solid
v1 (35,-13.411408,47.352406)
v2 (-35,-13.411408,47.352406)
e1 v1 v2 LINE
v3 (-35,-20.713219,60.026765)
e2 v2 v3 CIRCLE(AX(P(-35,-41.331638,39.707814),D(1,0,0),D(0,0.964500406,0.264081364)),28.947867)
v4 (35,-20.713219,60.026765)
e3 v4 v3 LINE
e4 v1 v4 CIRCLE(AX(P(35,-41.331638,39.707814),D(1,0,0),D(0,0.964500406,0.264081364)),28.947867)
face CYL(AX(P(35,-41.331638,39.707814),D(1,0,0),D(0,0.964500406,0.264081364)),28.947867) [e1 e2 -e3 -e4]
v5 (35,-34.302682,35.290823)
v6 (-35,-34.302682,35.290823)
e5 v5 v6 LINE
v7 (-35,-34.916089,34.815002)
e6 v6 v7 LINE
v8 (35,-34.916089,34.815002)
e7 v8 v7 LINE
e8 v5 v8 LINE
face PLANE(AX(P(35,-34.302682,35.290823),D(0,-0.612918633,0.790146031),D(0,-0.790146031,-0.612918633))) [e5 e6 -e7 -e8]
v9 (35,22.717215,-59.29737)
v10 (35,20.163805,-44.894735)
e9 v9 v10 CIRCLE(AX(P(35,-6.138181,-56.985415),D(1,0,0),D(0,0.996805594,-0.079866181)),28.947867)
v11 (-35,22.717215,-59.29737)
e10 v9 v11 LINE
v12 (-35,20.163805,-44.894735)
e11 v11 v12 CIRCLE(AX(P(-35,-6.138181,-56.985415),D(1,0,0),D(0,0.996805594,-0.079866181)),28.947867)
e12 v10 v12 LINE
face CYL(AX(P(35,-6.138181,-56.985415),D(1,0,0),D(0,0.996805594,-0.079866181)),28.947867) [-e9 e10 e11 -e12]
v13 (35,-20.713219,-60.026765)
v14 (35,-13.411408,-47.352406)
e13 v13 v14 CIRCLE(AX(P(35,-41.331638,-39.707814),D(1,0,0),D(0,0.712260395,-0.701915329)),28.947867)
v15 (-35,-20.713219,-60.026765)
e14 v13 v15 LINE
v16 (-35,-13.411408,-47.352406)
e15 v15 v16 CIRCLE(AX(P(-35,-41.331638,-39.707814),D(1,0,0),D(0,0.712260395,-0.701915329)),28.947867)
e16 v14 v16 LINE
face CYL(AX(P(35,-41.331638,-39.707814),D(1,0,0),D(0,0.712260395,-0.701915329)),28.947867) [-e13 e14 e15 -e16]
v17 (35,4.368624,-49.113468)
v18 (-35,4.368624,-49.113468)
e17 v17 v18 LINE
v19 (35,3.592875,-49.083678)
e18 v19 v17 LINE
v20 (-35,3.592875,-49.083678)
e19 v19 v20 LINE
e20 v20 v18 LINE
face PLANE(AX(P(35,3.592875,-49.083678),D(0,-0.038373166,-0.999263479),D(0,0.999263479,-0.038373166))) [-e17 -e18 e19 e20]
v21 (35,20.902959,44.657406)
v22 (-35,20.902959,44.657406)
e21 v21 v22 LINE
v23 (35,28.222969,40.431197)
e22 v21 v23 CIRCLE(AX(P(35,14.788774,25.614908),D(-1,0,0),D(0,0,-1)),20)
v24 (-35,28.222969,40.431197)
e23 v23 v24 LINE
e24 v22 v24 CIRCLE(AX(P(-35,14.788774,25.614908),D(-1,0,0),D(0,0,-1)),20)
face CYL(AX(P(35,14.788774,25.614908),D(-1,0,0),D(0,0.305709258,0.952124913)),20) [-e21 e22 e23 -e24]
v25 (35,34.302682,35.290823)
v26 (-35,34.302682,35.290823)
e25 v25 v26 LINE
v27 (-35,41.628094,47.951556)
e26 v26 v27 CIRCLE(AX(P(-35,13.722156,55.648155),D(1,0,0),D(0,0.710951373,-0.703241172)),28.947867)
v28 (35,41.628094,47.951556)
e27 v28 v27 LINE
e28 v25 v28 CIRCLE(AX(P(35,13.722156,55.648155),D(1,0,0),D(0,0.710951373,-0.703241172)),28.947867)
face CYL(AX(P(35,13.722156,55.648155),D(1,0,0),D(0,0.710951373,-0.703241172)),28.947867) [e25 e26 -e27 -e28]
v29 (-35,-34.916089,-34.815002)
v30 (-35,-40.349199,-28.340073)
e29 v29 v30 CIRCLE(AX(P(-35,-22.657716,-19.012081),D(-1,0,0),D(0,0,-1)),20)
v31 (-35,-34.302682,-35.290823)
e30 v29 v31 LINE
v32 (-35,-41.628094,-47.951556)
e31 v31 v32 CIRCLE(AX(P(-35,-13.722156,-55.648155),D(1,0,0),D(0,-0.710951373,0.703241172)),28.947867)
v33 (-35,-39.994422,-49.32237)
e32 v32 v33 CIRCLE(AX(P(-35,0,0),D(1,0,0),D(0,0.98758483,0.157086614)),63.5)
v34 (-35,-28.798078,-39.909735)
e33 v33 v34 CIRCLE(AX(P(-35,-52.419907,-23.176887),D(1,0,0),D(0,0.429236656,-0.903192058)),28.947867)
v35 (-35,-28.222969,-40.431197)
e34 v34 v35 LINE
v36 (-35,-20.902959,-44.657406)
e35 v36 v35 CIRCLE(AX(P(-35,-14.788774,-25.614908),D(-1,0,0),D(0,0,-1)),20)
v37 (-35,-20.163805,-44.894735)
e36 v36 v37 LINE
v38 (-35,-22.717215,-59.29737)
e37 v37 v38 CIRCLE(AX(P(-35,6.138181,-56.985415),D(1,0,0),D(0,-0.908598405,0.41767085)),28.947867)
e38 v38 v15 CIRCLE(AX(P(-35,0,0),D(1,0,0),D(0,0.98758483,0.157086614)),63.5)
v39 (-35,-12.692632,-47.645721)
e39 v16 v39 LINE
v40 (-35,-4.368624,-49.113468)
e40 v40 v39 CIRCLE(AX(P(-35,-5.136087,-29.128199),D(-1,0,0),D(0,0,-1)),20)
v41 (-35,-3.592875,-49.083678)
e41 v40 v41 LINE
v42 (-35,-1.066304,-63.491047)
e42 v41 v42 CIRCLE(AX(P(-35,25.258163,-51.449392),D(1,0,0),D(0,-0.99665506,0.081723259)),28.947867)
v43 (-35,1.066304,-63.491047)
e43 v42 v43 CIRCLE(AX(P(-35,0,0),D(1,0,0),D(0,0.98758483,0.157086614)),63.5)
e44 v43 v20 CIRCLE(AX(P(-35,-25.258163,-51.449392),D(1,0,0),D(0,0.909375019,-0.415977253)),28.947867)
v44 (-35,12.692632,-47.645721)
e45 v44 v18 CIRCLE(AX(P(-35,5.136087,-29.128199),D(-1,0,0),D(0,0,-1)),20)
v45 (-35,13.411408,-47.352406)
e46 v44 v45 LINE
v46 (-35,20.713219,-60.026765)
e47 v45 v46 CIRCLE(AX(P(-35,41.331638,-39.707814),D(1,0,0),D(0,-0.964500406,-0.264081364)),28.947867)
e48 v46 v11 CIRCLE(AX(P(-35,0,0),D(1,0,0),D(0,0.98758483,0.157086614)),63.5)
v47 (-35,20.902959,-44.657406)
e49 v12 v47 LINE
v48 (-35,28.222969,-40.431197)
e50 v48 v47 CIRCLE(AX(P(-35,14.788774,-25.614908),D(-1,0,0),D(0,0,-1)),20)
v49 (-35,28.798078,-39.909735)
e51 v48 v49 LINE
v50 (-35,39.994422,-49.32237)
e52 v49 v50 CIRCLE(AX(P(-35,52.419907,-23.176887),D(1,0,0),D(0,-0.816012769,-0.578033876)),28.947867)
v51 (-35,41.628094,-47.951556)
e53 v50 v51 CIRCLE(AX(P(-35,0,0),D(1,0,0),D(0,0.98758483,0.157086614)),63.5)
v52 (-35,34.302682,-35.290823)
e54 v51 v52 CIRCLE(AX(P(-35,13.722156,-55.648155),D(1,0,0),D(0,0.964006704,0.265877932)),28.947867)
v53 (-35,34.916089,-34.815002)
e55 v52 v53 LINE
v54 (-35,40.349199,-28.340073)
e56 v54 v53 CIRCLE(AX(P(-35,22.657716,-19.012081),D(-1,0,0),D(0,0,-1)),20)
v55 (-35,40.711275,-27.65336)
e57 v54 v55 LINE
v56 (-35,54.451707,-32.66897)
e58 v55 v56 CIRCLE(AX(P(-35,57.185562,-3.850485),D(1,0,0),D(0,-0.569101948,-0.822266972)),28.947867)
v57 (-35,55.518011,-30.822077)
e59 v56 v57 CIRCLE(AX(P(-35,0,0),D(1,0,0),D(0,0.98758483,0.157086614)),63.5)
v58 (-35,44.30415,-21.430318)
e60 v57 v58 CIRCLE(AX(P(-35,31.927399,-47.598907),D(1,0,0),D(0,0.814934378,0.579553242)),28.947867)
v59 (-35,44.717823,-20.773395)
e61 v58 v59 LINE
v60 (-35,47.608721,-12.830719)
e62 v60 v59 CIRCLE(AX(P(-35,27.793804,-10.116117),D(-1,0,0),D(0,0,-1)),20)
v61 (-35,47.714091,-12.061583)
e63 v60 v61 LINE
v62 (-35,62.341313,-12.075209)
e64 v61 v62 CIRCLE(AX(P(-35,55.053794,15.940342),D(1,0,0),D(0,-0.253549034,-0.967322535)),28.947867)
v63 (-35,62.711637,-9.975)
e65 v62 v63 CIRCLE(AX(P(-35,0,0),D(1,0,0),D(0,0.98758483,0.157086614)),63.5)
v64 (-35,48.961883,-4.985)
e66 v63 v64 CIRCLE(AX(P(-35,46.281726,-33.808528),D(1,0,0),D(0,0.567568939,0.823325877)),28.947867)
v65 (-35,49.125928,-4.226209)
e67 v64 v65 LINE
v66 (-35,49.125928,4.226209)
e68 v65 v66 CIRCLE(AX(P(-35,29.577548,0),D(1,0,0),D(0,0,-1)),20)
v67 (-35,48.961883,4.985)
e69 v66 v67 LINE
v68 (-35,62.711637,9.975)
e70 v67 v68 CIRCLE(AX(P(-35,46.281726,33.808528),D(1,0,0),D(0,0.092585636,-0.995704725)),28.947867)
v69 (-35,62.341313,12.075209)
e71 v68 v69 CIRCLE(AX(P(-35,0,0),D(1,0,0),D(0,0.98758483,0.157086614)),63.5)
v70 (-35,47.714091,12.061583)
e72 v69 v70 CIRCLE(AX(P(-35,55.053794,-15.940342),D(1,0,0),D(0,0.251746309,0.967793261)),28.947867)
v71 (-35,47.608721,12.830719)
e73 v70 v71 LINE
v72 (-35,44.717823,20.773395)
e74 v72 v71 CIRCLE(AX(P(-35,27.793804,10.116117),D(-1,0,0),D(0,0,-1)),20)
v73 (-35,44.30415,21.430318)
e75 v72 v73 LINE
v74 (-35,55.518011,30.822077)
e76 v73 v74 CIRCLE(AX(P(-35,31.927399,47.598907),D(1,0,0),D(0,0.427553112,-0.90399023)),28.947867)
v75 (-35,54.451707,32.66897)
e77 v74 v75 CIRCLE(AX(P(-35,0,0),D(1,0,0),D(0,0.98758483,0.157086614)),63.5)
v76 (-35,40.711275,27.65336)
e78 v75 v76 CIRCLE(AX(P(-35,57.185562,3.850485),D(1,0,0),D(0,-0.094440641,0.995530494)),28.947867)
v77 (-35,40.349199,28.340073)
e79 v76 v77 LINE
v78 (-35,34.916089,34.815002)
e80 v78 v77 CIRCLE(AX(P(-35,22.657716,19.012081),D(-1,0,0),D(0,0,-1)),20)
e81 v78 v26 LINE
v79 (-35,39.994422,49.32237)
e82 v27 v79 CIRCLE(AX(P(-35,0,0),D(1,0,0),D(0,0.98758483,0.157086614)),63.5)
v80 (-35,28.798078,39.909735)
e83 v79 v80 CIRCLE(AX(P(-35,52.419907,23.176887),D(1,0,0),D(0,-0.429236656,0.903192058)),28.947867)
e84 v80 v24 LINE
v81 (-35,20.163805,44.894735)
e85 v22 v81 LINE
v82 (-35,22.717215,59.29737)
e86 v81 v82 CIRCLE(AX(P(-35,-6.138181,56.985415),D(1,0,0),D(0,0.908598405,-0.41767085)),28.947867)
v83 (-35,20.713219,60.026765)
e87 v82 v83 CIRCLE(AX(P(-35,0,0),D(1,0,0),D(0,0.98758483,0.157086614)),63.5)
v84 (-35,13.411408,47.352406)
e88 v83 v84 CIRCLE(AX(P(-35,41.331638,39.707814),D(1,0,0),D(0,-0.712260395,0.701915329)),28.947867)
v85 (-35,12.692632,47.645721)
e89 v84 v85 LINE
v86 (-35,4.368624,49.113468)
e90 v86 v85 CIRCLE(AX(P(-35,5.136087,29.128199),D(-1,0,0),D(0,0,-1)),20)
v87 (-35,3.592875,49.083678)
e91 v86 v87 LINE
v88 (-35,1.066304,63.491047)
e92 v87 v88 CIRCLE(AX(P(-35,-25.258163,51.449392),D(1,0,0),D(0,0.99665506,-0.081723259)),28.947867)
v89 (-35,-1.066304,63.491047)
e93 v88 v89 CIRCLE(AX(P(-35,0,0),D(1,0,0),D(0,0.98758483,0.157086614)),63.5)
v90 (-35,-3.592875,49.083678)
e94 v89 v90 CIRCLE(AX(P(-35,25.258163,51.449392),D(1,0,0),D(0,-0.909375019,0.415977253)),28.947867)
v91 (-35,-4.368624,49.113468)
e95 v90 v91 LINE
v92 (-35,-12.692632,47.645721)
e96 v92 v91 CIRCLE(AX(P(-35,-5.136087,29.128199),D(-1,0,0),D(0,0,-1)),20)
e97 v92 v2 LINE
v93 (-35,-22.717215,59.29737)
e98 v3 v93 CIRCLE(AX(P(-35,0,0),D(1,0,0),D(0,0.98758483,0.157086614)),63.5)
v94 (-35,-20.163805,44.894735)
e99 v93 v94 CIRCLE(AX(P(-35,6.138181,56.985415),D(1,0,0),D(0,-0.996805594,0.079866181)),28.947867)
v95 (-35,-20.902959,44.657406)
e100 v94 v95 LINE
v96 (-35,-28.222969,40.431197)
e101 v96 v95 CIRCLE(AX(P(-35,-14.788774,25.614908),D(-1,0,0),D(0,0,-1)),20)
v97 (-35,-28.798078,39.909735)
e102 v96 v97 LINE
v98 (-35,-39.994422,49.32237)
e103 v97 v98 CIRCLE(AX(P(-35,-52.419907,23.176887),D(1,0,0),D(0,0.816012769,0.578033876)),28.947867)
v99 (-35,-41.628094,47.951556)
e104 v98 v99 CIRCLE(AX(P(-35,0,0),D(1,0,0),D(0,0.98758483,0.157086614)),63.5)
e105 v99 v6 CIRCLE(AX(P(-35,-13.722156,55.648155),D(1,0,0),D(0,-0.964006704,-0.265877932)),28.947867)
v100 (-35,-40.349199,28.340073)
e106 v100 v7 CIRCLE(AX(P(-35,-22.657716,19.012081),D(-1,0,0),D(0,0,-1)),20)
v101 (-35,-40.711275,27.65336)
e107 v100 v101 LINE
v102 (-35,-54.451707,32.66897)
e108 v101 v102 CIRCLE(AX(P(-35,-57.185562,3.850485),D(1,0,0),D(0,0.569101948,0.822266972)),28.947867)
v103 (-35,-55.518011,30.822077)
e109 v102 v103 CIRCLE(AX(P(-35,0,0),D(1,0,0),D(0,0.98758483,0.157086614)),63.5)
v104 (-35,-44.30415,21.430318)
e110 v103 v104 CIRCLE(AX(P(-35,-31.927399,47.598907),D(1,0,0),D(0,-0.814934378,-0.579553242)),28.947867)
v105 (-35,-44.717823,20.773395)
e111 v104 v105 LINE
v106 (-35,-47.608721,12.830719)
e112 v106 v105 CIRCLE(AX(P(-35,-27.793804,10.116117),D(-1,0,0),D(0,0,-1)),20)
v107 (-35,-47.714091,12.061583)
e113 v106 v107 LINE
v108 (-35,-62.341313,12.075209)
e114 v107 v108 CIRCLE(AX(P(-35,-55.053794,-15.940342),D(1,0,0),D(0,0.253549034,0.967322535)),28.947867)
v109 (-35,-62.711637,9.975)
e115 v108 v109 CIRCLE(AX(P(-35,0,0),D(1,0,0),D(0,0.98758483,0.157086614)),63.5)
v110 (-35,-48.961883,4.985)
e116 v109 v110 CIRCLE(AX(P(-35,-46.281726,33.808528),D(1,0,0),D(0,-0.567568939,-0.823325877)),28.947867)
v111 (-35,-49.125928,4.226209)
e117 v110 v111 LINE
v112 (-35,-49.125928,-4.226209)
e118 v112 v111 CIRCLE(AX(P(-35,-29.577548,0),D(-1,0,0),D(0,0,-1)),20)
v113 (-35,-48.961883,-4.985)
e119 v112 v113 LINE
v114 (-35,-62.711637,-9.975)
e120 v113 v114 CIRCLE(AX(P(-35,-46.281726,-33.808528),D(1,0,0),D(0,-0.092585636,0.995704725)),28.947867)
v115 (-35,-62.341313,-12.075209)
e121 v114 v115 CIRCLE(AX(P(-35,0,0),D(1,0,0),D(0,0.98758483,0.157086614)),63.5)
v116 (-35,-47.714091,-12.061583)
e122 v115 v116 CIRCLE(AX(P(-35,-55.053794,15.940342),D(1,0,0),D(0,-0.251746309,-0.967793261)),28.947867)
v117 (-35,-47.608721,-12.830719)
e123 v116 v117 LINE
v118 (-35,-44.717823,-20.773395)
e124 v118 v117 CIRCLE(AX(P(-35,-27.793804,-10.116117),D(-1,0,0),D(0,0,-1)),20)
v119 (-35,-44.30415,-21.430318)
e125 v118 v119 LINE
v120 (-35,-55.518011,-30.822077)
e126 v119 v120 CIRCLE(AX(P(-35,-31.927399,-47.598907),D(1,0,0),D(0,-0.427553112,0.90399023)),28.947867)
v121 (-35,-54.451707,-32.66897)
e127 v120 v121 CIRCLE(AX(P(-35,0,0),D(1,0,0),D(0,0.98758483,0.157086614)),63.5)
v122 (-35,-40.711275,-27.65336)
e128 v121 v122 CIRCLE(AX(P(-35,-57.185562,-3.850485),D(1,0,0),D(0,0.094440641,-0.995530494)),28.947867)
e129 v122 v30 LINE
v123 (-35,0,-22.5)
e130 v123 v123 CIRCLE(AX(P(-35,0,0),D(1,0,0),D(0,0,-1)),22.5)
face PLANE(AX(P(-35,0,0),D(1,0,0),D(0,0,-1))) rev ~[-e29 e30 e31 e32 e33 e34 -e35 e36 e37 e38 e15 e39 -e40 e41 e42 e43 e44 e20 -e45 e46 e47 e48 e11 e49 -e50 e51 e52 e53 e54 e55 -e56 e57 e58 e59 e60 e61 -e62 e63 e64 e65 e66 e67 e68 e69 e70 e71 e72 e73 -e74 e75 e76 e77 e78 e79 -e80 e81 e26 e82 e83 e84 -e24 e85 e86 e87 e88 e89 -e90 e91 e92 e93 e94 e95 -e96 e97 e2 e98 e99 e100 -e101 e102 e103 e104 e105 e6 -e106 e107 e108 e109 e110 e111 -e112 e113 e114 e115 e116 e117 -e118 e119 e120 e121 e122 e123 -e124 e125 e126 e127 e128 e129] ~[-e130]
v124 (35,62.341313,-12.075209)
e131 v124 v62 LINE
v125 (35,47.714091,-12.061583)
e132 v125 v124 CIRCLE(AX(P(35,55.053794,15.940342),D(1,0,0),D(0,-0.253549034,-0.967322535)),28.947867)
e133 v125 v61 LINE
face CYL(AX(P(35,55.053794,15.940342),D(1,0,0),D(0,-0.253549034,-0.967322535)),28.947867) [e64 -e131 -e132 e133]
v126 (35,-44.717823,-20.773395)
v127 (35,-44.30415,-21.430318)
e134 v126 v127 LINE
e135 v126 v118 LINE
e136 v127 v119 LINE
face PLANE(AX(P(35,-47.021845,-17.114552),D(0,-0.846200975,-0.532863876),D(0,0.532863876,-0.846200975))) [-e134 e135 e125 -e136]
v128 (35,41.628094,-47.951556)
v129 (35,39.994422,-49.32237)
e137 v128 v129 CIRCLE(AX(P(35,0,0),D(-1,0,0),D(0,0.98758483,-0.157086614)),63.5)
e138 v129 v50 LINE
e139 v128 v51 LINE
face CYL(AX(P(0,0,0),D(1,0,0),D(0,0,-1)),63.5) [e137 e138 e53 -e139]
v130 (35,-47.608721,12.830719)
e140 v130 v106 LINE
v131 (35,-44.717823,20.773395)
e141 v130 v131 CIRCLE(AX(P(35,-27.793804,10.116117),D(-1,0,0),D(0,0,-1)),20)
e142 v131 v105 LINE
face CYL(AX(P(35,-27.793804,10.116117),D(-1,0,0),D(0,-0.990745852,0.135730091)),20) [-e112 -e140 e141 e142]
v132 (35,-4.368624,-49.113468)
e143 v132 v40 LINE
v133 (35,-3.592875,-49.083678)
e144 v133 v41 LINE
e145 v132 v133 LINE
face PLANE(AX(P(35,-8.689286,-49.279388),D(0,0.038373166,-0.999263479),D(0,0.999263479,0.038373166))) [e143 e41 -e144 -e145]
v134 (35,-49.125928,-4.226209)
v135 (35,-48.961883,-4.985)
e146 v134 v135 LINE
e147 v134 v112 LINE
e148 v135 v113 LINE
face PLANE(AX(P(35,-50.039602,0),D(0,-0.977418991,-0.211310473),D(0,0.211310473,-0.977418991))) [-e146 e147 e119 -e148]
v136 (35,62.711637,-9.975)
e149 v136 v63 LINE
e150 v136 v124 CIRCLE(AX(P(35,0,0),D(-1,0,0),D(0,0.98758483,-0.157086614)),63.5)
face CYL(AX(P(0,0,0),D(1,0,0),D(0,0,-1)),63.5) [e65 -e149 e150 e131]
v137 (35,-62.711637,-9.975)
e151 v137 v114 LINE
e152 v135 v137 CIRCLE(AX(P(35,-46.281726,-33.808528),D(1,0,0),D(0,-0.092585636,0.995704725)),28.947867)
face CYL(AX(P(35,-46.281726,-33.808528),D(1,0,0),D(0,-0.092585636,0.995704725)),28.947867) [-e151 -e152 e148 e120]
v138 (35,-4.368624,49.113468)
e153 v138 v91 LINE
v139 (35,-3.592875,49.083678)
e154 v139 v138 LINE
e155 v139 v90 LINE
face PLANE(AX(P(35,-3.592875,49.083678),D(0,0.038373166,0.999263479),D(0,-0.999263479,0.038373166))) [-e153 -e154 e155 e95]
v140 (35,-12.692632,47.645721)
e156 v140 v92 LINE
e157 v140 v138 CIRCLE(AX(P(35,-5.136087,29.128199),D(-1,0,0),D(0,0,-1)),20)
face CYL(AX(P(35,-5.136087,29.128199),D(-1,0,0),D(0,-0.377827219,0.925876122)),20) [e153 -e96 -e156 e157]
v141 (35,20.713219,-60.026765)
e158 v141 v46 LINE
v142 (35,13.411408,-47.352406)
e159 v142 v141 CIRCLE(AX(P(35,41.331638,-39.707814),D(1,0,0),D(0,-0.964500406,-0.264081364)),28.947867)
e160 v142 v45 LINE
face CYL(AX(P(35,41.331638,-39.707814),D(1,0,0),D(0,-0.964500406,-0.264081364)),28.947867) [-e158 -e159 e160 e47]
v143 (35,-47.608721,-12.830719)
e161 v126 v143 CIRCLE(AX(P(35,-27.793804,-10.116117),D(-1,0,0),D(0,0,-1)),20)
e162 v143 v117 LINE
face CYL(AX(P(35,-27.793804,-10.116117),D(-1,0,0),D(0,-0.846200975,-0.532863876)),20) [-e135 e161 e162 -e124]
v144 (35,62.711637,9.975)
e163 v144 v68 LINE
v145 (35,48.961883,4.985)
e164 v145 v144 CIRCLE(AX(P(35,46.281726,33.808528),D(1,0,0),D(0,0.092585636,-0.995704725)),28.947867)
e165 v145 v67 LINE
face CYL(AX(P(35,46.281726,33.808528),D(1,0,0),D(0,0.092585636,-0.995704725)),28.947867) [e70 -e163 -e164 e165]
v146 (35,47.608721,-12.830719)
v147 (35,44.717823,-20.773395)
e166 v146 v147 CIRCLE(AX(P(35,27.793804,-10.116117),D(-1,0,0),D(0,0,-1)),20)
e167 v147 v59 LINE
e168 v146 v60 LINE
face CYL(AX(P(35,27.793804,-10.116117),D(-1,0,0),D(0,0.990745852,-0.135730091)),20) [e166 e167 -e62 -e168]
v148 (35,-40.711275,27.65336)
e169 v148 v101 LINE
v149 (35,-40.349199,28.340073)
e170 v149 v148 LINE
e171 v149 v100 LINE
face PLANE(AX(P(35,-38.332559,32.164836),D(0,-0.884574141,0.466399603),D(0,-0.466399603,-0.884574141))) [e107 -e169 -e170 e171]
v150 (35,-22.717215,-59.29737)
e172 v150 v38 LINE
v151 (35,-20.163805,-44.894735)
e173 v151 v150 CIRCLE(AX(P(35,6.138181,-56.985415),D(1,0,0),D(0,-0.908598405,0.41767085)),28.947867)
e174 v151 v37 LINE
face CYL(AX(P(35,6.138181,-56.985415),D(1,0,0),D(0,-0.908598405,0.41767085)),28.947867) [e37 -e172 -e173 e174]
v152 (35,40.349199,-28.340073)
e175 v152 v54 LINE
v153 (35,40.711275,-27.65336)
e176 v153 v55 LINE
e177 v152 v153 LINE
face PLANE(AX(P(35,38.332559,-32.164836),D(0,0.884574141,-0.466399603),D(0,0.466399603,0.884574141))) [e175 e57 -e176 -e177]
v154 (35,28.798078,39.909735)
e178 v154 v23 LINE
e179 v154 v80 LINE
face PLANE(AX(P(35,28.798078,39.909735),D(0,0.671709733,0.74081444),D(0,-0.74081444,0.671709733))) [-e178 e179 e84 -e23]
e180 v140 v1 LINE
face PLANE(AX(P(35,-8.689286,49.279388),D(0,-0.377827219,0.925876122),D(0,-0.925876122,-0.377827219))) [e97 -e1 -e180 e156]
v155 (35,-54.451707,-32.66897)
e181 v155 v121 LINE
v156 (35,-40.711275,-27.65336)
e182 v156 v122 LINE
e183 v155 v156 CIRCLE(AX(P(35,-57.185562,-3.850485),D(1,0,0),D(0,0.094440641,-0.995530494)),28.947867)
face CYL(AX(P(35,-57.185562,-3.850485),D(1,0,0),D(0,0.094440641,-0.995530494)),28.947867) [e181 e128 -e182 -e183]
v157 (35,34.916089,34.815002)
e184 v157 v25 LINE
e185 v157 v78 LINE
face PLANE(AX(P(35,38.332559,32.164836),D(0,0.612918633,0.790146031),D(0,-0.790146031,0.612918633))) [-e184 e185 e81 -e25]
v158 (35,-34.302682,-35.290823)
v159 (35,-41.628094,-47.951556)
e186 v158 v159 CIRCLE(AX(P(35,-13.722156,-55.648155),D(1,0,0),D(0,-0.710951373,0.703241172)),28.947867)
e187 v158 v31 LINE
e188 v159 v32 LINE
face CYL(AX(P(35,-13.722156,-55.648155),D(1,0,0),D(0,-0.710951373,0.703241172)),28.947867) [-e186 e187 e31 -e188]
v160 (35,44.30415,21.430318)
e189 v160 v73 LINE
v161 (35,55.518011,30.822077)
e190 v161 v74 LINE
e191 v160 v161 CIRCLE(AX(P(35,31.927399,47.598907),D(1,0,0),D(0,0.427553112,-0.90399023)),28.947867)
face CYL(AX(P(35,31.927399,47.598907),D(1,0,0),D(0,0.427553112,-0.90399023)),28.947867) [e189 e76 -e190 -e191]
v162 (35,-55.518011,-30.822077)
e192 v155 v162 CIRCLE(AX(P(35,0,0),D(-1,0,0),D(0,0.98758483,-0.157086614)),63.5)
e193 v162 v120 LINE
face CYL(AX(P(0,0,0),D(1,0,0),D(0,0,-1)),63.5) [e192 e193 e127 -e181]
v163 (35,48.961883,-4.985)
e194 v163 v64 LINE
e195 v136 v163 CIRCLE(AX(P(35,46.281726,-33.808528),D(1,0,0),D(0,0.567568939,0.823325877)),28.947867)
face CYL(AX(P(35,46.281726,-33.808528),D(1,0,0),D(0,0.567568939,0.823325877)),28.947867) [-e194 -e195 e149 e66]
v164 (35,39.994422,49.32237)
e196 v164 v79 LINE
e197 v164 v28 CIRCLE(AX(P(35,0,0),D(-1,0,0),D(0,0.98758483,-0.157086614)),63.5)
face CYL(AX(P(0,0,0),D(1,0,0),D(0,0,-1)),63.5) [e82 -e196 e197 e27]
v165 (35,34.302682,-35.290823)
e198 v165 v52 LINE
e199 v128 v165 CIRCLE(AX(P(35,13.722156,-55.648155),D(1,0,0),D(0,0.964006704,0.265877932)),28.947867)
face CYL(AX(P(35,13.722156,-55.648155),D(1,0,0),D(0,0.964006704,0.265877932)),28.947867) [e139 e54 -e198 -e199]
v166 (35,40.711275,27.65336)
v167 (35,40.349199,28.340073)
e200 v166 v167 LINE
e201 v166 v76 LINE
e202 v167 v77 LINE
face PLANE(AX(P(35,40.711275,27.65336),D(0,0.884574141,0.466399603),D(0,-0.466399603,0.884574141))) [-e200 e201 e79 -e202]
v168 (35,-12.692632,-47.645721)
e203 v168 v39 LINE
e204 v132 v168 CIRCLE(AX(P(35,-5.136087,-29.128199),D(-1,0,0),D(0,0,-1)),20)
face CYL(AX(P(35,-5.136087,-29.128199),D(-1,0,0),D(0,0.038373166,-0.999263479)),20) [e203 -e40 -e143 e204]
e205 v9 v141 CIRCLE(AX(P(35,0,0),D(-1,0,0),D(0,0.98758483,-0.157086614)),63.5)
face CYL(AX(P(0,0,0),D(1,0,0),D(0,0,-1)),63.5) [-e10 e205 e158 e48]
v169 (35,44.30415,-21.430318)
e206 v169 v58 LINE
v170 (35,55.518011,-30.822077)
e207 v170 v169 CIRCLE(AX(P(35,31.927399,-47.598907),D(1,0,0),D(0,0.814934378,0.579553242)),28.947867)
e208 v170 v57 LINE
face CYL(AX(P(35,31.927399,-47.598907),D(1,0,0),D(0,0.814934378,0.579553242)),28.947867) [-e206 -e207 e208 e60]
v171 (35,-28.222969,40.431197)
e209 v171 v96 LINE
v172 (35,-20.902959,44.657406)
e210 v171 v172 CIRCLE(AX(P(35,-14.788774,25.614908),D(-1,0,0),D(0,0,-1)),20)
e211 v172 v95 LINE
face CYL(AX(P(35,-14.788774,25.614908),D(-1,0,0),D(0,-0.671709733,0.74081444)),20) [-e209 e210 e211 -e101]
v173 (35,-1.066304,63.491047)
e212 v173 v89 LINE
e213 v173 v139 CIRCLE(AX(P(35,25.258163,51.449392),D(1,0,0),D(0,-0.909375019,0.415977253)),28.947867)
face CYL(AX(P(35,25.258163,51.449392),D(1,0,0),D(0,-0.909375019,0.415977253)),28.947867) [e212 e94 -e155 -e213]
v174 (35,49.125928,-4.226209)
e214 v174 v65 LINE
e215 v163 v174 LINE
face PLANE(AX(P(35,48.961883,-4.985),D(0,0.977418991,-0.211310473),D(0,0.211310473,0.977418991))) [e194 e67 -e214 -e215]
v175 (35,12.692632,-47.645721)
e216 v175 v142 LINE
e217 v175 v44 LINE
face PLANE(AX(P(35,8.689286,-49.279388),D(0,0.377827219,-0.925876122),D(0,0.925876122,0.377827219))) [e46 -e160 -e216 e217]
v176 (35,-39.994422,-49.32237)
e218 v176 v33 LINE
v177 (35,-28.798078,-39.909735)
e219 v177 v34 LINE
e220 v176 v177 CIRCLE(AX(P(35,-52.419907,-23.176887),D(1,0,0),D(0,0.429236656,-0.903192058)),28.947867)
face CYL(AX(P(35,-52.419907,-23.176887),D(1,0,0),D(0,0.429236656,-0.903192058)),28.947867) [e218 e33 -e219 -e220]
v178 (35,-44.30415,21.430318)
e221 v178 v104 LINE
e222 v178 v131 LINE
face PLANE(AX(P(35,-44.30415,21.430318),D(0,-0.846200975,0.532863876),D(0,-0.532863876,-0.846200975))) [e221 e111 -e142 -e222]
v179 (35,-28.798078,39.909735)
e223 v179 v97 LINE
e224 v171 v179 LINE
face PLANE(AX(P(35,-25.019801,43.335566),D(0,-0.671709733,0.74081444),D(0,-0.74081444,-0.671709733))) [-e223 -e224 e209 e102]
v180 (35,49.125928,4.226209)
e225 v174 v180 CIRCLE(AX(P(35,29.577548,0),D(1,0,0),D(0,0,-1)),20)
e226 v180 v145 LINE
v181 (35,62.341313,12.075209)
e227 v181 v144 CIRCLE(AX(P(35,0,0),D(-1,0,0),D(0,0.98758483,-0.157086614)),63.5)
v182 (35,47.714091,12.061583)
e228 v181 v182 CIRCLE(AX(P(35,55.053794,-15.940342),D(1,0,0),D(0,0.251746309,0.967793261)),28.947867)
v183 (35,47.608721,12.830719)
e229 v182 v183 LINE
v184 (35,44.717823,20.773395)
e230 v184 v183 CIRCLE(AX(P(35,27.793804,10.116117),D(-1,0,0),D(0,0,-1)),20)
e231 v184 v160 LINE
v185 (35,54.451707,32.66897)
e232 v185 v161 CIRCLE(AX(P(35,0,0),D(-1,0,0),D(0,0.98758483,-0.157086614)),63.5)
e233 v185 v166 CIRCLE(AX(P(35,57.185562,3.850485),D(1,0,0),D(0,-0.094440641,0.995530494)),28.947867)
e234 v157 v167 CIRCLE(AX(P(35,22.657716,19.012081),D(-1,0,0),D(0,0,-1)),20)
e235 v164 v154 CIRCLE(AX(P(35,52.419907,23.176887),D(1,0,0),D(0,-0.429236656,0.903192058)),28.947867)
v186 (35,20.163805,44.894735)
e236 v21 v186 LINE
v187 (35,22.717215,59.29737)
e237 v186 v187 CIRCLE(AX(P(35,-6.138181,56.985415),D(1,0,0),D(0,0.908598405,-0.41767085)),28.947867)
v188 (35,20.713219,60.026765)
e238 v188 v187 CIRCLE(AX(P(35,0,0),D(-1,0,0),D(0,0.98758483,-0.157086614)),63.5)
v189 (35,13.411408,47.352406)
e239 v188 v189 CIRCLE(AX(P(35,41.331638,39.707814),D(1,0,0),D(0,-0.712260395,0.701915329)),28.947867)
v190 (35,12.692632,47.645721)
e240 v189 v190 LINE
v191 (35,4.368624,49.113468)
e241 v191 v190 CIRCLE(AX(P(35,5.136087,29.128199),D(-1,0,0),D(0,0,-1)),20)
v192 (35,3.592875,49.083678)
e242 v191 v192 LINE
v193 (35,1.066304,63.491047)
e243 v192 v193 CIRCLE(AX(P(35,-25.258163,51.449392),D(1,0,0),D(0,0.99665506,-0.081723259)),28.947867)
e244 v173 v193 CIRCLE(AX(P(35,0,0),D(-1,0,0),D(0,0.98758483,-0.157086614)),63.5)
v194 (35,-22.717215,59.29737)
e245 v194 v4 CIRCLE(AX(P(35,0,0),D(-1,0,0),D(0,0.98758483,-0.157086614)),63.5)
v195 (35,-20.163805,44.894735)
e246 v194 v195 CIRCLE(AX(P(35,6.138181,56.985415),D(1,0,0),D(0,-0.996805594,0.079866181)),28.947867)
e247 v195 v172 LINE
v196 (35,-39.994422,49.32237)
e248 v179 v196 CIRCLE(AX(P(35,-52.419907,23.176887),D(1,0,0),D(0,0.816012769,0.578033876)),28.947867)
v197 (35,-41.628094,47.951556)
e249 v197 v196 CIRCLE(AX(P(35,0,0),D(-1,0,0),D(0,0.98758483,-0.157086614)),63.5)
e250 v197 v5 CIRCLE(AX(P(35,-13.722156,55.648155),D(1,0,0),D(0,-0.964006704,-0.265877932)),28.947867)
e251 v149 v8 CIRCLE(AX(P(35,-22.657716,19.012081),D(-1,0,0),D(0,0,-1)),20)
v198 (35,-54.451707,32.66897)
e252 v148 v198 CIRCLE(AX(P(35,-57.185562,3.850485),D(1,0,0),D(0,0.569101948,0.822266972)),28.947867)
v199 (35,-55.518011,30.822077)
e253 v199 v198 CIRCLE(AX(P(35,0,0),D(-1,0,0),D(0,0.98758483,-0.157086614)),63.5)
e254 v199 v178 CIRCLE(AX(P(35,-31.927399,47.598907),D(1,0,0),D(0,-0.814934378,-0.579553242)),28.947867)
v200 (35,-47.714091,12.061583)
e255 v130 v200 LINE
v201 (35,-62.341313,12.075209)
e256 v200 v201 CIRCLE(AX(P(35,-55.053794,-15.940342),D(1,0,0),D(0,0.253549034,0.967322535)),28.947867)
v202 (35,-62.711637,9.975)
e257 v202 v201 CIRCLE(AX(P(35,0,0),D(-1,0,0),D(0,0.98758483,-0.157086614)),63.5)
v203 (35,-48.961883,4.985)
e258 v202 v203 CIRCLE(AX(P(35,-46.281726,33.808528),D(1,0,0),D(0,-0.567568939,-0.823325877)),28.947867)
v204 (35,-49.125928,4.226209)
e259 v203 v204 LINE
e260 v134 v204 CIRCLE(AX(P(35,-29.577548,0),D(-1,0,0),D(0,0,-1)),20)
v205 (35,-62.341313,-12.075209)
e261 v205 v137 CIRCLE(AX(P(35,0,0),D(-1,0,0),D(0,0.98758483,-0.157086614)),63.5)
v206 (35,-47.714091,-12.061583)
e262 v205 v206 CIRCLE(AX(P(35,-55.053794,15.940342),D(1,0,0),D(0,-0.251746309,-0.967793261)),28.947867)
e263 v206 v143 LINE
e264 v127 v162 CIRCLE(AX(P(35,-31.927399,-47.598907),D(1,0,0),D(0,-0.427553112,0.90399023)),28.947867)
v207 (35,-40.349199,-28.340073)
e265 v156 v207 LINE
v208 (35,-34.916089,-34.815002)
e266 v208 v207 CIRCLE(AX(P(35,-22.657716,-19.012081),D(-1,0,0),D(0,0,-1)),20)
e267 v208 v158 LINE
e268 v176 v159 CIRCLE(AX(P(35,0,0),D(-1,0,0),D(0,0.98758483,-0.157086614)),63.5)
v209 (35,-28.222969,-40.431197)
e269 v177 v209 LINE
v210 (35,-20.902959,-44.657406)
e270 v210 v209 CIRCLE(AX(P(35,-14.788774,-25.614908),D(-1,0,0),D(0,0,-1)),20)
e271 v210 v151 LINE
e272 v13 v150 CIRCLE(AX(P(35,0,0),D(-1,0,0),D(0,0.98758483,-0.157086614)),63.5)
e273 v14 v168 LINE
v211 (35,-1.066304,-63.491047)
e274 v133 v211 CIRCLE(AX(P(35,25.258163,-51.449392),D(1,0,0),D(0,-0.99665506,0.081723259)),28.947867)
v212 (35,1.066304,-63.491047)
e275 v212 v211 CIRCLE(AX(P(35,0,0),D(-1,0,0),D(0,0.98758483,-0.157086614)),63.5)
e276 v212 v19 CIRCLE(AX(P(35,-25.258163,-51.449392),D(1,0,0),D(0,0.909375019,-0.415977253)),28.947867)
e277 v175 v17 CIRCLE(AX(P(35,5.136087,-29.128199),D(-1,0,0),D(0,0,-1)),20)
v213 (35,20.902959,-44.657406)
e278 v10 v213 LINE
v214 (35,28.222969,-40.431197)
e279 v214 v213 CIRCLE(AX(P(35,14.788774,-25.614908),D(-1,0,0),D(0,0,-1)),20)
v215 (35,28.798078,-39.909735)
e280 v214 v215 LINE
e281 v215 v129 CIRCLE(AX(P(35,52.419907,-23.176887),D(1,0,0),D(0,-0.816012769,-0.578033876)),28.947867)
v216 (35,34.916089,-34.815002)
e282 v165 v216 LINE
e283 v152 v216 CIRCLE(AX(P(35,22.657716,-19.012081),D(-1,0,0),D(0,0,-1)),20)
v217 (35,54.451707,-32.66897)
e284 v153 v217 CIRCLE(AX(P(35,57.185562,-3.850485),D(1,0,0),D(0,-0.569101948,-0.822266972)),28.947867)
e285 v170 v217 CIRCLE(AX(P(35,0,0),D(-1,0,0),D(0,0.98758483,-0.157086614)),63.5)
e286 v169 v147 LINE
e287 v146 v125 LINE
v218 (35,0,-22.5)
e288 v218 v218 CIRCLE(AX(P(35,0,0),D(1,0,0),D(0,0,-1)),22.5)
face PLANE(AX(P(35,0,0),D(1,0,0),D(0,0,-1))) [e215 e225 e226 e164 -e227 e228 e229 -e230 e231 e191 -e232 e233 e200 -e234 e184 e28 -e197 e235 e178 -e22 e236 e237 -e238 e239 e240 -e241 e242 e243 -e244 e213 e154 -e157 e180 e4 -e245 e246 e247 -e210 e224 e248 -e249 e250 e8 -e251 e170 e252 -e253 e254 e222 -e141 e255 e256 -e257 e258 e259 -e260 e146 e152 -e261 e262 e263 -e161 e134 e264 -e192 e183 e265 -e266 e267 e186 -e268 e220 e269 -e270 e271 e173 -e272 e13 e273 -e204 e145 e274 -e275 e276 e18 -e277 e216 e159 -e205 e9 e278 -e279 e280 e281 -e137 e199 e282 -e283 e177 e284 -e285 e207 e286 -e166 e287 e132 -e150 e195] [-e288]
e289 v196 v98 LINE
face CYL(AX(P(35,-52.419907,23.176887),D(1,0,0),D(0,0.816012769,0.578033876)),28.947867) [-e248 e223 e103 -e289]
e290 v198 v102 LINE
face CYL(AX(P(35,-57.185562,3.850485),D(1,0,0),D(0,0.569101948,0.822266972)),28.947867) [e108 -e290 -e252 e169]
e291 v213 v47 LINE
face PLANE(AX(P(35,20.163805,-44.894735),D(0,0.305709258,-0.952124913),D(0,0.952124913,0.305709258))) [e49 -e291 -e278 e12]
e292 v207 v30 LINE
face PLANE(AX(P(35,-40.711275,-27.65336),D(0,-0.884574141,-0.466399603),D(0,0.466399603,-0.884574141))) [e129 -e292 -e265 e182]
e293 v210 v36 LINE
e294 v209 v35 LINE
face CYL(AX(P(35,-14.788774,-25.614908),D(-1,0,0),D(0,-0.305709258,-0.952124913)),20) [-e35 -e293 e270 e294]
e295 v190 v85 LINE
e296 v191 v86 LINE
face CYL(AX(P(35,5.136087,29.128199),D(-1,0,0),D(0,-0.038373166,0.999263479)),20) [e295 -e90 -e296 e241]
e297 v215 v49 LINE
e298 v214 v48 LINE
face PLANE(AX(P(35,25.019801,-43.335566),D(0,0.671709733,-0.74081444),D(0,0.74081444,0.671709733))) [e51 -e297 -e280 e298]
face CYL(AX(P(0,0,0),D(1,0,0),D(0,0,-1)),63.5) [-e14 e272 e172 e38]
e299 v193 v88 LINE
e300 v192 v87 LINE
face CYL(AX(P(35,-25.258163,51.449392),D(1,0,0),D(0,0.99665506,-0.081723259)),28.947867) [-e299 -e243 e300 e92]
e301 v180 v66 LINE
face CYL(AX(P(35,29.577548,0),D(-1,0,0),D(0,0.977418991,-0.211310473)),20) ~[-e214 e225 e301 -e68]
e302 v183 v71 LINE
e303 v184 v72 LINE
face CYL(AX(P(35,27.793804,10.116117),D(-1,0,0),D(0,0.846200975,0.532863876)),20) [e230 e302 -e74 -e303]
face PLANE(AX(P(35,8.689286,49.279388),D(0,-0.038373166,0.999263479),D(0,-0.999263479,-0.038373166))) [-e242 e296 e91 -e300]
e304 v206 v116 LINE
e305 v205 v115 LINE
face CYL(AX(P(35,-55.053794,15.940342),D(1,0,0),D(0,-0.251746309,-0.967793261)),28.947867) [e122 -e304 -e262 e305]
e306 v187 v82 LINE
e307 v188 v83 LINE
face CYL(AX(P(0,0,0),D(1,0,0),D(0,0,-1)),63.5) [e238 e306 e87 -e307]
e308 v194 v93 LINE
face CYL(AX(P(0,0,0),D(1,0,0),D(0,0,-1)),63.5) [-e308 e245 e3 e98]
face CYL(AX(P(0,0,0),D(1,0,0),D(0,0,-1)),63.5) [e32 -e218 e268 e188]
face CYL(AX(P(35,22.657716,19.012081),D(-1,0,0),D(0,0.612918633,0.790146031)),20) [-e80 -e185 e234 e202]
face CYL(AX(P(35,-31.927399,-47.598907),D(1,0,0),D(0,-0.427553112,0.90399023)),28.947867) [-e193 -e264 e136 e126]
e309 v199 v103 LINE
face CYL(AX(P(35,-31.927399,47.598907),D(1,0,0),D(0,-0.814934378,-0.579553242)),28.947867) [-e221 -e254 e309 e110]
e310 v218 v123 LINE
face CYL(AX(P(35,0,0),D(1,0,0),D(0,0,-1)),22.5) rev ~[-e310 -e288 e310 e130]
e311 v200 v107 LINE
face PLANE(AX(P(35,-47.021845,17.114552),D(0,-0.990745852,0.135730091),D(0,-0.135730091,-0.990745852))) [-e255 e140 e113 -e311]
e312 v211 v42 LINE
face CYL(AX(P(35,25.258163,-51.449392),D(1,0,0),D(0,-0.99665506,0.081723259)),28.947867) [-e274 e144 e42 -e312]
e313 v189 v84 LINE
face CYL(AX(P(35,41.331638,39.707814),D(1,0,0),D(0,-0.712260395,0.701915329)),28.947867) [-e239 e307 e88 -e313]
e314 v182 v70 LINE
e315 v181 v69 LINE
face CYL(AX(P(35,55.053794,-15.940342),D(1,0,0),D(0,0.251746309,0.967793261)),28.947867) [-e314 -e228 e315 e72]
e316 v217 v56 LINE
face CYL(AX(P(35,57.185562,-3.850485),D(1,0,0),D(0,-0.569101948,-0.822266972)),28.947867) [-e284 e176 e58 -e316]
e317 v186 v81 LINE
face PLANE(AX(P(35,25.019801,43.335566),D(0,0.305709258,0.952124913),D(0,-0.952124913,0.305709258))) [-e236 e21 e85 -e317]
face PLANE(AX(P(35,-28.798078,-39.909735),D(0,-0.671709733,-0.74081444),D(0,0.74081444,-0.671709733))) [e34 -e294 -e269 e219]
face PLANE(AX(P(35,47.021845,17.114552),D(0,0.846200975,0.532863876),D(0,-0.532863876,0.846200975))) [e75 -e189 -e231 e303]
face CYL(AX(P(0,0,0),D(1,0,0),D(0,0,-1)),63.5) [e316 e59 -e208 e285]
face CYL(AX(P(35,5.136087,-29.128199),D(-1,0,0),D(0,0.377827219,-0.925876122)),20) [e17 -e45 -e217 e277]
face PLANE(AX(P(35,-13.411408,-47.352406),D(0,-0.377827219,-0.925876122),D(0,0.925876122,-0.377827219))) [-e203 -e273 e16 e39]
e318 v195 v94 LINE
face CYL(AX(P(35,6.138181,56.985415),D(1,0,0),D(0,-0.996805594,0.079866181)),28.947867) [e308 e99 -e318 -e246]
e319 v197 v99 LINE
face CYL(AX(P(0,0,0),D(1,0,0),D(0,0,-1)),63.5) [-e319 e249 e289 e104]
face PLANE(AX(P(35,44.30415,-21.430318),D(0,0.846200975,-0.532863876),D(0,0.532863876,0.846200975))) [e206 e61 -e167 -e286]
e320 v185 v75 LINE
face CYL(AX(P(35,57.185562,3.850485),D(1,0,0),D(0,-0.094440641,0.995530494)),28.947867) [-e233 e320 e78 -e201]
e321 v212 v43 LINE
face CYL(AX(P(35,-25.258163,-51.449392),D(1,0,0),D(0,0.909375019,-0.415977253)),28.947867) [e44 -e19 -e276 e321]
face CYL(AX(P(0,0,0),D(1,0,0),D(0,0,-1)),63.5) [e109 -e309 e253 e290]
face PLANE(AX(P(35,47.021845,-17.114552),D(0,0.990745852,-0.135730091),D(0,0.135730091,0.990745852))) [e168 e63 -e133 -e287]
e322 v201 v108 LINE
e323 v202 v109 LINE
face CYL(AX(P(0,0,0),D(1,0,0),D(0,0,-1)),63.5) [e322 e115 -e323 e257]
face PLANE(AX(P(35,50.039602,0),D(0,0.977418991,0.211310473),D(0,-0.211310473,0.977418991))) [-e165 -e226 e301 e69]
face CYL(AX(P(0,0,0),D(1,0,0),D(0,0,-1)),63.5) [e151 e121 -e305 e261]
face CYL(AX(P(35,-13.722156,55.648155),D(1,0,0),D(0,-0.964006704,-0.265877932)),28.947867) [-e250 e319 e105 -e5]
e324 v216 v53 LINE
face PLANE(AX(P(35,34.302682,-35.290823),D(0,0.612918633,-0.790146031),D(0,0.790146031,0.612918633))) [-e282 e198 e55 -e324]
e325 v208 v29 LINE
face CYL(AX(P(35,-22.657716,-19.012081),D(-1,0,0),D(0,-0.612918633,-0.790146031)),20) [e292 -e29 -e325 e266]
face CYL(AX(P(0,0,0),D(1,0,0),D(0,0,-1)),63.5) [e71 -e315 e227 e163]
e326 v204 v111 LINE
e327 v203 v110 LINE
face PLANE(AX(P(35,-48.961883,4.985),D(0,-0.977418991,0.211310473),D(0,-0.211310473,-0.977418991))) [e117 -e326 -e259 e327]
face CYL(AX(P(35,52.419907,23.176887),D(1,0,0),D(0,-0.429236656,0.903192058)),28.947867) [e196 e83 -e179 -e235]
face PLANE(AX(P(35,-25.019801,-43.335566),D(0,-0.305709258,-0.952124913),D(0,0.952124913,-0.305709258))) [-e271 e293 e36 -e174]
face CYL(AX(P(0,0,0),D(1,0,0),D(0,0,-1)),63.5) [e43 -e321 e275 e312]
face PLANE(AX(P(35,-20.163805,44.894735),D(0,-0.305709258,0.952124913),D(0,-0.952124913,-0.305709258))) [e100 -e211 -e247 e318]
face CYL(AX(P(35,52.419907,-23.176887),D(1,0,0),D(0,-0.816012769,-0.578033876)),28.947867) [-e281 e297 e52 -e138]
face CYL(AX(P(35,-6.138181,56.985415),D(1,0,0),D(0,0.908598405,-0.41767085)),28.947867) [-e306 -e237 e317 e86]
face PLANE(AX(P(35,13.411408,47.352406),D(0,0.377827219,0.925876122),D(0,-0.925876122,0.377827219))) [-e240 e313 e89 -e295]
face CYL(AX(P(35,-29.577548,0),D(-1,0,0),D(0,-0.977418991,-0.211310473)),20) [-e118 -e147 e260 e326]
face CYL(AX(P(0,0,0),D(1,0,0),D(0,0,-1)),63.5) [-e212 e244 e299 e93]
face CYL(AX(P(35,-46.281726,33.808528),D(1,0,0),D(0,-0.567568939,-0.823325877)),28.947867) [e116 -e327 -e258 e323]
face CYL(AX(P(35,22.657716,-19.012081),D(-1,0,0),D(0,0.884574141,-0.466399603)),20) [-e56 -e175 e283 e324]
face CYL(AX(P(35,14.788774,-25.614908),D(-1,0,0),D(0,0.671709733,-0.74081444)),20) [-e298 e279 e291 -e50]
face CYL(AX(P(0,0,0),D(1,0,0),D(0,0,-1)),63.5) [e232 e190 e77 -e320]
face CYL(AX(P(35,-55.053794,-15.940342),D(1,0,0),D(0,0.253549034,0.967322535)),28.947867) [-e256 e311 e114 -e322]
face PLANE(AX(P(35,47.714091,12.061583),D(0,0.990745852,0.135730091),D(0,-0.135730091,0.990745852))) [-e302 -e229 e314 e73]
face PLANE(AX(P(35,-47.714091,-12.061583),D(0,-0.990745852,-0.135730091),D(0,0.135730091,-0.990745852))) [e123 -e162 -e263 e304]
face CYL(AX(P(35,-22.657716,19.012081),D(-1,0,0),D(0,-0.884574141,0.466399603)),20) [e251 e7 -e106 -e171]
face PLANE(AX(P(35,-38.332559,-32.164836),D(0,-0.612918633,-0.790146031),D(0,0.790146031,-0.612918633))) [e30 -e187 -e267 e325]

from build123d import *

# Parameters (mm, degrees)
SKETCH1_R                = 63.5
BOSS_EXTRUDE1_DEPTH      = 35
SKETCH6_R                = 22.5
CUT_EXTRUDE4_DEPTH       = 71
CUT_EXTRUDE5_DEPTH       = 71
FILLET1_R                = 20
CIRPATTERN3_COUNT        = 18
FILLET1_OF_CIRPATTERN3_R = 20


with BuildPart() as part:
    # Sketch1 → Boss-Extrude1 (new body, symmetric)
    with BuildSketch(Plane(origin=(0, 0, 0), x_dir=(0, 0, -1), z_dir=(1, 0, 0))):
        Circle(SKETCH1_R)
    extrude(amount=BOSS_EXTRUDE1_DEPTH, both=True)

    # Sketch6 → Cut-Extrude4 (cut, through all)
    with BuildSketch(Plane(origin=(35, 0, 0), x_dir=(0, 0, -1), z_dir=(1, 0, 0))):
        Circle(SKETCH6_R)
    extrude(amount=-CUT_EXTRUDE4_DEPTH, mode=Mode.SUBTRACT)

    # Sketch7 → Cut-Extrude5 (cut, through all)
    with BuildSketch(Plane(origin=(35, 0, 0), x_dir=(0, 0, -1), z_dir=(1, 0, 0))):
        with BuildLine():
            Line((0, 50.039601818), (-4.985, 48.961883134))
            ThreePointArc((-4.985, 48.961883134), (-6.597219376, 56.157134763), (-9.975, 62.711636679))
            Line((-9.975, 62.711636679), (0, 72.167588378))
            Line((0, 72.167588378), (9.975, 62.711636679))
            ThreePointArc((9.975, 62.711636679), (6.597219376, 56.157134763), (4.985, 48.961883134))
            Line((4.985, 48.961883134), (0, 50.039601818))
        make_face()
    cut_extrude5 = extrude(amount=-CUT_EXTRUDE5_DEPTH, mode=Mode.SUBTRACT)

    # Fillet1
    fillet1_edges = [part.edges().sort_by_distance(p)[0] for p in [
        (0, 50.039601818, 0),
    ]]
    fillet(fillet1_edges, radius=FILLET1_R)

    # CirPattern3: Cut-Extrude5 ×18 about axis
    cirpattern3_axis = Axis((0, 0, 0), (1, 0, 0))
    for i in range(1, CIRPATTERN3_COUNT):
        add(cut_extrude5.rotate(cirpattern3_axis, i * 360 / CIRPATTERN3_COUNT), mode=Mode.SUBTRACT)

    # Fillet1 of CirPattern3
    fillet1_of_cirpattern3_edges = [part.edges().sort_by_distance(p)[0] for p in [
        (0, 47.021844575, 17.114551786),
        (0, 38.332558908, 32.164836042),
        (0, 25.019800909, 43.335566369),
        (0, 8.689285667, 49.279387828),
        (0, -8.689285667, 49.279387828),
        (0, -25.019800909, 43.335566369),
        (0, -38.332558908, 32.164836042),
        (0, -47.021844575, 17.114551786),
        (0, -50.039601818, 0),
        (0, -47.021844575, -17.114551786),
        (0, -38.332558908, -32.164836042),
        (0, -25.019800909, -43.335566369),
        (0, -8.689285667, -49.279387828),
        (0, 8.689285667, -49.279387828),
        (0, 25.019800909, -43.335566369),
        (0, 38.332558908, -32.164836042),
        (0, 47.021844575, -17.114551786),
    ]]
    fillet(fillet1_of_cirpattern3_edges, radius=FILLET1_OF_CIRPATTERN3_R)


solid = part.part
